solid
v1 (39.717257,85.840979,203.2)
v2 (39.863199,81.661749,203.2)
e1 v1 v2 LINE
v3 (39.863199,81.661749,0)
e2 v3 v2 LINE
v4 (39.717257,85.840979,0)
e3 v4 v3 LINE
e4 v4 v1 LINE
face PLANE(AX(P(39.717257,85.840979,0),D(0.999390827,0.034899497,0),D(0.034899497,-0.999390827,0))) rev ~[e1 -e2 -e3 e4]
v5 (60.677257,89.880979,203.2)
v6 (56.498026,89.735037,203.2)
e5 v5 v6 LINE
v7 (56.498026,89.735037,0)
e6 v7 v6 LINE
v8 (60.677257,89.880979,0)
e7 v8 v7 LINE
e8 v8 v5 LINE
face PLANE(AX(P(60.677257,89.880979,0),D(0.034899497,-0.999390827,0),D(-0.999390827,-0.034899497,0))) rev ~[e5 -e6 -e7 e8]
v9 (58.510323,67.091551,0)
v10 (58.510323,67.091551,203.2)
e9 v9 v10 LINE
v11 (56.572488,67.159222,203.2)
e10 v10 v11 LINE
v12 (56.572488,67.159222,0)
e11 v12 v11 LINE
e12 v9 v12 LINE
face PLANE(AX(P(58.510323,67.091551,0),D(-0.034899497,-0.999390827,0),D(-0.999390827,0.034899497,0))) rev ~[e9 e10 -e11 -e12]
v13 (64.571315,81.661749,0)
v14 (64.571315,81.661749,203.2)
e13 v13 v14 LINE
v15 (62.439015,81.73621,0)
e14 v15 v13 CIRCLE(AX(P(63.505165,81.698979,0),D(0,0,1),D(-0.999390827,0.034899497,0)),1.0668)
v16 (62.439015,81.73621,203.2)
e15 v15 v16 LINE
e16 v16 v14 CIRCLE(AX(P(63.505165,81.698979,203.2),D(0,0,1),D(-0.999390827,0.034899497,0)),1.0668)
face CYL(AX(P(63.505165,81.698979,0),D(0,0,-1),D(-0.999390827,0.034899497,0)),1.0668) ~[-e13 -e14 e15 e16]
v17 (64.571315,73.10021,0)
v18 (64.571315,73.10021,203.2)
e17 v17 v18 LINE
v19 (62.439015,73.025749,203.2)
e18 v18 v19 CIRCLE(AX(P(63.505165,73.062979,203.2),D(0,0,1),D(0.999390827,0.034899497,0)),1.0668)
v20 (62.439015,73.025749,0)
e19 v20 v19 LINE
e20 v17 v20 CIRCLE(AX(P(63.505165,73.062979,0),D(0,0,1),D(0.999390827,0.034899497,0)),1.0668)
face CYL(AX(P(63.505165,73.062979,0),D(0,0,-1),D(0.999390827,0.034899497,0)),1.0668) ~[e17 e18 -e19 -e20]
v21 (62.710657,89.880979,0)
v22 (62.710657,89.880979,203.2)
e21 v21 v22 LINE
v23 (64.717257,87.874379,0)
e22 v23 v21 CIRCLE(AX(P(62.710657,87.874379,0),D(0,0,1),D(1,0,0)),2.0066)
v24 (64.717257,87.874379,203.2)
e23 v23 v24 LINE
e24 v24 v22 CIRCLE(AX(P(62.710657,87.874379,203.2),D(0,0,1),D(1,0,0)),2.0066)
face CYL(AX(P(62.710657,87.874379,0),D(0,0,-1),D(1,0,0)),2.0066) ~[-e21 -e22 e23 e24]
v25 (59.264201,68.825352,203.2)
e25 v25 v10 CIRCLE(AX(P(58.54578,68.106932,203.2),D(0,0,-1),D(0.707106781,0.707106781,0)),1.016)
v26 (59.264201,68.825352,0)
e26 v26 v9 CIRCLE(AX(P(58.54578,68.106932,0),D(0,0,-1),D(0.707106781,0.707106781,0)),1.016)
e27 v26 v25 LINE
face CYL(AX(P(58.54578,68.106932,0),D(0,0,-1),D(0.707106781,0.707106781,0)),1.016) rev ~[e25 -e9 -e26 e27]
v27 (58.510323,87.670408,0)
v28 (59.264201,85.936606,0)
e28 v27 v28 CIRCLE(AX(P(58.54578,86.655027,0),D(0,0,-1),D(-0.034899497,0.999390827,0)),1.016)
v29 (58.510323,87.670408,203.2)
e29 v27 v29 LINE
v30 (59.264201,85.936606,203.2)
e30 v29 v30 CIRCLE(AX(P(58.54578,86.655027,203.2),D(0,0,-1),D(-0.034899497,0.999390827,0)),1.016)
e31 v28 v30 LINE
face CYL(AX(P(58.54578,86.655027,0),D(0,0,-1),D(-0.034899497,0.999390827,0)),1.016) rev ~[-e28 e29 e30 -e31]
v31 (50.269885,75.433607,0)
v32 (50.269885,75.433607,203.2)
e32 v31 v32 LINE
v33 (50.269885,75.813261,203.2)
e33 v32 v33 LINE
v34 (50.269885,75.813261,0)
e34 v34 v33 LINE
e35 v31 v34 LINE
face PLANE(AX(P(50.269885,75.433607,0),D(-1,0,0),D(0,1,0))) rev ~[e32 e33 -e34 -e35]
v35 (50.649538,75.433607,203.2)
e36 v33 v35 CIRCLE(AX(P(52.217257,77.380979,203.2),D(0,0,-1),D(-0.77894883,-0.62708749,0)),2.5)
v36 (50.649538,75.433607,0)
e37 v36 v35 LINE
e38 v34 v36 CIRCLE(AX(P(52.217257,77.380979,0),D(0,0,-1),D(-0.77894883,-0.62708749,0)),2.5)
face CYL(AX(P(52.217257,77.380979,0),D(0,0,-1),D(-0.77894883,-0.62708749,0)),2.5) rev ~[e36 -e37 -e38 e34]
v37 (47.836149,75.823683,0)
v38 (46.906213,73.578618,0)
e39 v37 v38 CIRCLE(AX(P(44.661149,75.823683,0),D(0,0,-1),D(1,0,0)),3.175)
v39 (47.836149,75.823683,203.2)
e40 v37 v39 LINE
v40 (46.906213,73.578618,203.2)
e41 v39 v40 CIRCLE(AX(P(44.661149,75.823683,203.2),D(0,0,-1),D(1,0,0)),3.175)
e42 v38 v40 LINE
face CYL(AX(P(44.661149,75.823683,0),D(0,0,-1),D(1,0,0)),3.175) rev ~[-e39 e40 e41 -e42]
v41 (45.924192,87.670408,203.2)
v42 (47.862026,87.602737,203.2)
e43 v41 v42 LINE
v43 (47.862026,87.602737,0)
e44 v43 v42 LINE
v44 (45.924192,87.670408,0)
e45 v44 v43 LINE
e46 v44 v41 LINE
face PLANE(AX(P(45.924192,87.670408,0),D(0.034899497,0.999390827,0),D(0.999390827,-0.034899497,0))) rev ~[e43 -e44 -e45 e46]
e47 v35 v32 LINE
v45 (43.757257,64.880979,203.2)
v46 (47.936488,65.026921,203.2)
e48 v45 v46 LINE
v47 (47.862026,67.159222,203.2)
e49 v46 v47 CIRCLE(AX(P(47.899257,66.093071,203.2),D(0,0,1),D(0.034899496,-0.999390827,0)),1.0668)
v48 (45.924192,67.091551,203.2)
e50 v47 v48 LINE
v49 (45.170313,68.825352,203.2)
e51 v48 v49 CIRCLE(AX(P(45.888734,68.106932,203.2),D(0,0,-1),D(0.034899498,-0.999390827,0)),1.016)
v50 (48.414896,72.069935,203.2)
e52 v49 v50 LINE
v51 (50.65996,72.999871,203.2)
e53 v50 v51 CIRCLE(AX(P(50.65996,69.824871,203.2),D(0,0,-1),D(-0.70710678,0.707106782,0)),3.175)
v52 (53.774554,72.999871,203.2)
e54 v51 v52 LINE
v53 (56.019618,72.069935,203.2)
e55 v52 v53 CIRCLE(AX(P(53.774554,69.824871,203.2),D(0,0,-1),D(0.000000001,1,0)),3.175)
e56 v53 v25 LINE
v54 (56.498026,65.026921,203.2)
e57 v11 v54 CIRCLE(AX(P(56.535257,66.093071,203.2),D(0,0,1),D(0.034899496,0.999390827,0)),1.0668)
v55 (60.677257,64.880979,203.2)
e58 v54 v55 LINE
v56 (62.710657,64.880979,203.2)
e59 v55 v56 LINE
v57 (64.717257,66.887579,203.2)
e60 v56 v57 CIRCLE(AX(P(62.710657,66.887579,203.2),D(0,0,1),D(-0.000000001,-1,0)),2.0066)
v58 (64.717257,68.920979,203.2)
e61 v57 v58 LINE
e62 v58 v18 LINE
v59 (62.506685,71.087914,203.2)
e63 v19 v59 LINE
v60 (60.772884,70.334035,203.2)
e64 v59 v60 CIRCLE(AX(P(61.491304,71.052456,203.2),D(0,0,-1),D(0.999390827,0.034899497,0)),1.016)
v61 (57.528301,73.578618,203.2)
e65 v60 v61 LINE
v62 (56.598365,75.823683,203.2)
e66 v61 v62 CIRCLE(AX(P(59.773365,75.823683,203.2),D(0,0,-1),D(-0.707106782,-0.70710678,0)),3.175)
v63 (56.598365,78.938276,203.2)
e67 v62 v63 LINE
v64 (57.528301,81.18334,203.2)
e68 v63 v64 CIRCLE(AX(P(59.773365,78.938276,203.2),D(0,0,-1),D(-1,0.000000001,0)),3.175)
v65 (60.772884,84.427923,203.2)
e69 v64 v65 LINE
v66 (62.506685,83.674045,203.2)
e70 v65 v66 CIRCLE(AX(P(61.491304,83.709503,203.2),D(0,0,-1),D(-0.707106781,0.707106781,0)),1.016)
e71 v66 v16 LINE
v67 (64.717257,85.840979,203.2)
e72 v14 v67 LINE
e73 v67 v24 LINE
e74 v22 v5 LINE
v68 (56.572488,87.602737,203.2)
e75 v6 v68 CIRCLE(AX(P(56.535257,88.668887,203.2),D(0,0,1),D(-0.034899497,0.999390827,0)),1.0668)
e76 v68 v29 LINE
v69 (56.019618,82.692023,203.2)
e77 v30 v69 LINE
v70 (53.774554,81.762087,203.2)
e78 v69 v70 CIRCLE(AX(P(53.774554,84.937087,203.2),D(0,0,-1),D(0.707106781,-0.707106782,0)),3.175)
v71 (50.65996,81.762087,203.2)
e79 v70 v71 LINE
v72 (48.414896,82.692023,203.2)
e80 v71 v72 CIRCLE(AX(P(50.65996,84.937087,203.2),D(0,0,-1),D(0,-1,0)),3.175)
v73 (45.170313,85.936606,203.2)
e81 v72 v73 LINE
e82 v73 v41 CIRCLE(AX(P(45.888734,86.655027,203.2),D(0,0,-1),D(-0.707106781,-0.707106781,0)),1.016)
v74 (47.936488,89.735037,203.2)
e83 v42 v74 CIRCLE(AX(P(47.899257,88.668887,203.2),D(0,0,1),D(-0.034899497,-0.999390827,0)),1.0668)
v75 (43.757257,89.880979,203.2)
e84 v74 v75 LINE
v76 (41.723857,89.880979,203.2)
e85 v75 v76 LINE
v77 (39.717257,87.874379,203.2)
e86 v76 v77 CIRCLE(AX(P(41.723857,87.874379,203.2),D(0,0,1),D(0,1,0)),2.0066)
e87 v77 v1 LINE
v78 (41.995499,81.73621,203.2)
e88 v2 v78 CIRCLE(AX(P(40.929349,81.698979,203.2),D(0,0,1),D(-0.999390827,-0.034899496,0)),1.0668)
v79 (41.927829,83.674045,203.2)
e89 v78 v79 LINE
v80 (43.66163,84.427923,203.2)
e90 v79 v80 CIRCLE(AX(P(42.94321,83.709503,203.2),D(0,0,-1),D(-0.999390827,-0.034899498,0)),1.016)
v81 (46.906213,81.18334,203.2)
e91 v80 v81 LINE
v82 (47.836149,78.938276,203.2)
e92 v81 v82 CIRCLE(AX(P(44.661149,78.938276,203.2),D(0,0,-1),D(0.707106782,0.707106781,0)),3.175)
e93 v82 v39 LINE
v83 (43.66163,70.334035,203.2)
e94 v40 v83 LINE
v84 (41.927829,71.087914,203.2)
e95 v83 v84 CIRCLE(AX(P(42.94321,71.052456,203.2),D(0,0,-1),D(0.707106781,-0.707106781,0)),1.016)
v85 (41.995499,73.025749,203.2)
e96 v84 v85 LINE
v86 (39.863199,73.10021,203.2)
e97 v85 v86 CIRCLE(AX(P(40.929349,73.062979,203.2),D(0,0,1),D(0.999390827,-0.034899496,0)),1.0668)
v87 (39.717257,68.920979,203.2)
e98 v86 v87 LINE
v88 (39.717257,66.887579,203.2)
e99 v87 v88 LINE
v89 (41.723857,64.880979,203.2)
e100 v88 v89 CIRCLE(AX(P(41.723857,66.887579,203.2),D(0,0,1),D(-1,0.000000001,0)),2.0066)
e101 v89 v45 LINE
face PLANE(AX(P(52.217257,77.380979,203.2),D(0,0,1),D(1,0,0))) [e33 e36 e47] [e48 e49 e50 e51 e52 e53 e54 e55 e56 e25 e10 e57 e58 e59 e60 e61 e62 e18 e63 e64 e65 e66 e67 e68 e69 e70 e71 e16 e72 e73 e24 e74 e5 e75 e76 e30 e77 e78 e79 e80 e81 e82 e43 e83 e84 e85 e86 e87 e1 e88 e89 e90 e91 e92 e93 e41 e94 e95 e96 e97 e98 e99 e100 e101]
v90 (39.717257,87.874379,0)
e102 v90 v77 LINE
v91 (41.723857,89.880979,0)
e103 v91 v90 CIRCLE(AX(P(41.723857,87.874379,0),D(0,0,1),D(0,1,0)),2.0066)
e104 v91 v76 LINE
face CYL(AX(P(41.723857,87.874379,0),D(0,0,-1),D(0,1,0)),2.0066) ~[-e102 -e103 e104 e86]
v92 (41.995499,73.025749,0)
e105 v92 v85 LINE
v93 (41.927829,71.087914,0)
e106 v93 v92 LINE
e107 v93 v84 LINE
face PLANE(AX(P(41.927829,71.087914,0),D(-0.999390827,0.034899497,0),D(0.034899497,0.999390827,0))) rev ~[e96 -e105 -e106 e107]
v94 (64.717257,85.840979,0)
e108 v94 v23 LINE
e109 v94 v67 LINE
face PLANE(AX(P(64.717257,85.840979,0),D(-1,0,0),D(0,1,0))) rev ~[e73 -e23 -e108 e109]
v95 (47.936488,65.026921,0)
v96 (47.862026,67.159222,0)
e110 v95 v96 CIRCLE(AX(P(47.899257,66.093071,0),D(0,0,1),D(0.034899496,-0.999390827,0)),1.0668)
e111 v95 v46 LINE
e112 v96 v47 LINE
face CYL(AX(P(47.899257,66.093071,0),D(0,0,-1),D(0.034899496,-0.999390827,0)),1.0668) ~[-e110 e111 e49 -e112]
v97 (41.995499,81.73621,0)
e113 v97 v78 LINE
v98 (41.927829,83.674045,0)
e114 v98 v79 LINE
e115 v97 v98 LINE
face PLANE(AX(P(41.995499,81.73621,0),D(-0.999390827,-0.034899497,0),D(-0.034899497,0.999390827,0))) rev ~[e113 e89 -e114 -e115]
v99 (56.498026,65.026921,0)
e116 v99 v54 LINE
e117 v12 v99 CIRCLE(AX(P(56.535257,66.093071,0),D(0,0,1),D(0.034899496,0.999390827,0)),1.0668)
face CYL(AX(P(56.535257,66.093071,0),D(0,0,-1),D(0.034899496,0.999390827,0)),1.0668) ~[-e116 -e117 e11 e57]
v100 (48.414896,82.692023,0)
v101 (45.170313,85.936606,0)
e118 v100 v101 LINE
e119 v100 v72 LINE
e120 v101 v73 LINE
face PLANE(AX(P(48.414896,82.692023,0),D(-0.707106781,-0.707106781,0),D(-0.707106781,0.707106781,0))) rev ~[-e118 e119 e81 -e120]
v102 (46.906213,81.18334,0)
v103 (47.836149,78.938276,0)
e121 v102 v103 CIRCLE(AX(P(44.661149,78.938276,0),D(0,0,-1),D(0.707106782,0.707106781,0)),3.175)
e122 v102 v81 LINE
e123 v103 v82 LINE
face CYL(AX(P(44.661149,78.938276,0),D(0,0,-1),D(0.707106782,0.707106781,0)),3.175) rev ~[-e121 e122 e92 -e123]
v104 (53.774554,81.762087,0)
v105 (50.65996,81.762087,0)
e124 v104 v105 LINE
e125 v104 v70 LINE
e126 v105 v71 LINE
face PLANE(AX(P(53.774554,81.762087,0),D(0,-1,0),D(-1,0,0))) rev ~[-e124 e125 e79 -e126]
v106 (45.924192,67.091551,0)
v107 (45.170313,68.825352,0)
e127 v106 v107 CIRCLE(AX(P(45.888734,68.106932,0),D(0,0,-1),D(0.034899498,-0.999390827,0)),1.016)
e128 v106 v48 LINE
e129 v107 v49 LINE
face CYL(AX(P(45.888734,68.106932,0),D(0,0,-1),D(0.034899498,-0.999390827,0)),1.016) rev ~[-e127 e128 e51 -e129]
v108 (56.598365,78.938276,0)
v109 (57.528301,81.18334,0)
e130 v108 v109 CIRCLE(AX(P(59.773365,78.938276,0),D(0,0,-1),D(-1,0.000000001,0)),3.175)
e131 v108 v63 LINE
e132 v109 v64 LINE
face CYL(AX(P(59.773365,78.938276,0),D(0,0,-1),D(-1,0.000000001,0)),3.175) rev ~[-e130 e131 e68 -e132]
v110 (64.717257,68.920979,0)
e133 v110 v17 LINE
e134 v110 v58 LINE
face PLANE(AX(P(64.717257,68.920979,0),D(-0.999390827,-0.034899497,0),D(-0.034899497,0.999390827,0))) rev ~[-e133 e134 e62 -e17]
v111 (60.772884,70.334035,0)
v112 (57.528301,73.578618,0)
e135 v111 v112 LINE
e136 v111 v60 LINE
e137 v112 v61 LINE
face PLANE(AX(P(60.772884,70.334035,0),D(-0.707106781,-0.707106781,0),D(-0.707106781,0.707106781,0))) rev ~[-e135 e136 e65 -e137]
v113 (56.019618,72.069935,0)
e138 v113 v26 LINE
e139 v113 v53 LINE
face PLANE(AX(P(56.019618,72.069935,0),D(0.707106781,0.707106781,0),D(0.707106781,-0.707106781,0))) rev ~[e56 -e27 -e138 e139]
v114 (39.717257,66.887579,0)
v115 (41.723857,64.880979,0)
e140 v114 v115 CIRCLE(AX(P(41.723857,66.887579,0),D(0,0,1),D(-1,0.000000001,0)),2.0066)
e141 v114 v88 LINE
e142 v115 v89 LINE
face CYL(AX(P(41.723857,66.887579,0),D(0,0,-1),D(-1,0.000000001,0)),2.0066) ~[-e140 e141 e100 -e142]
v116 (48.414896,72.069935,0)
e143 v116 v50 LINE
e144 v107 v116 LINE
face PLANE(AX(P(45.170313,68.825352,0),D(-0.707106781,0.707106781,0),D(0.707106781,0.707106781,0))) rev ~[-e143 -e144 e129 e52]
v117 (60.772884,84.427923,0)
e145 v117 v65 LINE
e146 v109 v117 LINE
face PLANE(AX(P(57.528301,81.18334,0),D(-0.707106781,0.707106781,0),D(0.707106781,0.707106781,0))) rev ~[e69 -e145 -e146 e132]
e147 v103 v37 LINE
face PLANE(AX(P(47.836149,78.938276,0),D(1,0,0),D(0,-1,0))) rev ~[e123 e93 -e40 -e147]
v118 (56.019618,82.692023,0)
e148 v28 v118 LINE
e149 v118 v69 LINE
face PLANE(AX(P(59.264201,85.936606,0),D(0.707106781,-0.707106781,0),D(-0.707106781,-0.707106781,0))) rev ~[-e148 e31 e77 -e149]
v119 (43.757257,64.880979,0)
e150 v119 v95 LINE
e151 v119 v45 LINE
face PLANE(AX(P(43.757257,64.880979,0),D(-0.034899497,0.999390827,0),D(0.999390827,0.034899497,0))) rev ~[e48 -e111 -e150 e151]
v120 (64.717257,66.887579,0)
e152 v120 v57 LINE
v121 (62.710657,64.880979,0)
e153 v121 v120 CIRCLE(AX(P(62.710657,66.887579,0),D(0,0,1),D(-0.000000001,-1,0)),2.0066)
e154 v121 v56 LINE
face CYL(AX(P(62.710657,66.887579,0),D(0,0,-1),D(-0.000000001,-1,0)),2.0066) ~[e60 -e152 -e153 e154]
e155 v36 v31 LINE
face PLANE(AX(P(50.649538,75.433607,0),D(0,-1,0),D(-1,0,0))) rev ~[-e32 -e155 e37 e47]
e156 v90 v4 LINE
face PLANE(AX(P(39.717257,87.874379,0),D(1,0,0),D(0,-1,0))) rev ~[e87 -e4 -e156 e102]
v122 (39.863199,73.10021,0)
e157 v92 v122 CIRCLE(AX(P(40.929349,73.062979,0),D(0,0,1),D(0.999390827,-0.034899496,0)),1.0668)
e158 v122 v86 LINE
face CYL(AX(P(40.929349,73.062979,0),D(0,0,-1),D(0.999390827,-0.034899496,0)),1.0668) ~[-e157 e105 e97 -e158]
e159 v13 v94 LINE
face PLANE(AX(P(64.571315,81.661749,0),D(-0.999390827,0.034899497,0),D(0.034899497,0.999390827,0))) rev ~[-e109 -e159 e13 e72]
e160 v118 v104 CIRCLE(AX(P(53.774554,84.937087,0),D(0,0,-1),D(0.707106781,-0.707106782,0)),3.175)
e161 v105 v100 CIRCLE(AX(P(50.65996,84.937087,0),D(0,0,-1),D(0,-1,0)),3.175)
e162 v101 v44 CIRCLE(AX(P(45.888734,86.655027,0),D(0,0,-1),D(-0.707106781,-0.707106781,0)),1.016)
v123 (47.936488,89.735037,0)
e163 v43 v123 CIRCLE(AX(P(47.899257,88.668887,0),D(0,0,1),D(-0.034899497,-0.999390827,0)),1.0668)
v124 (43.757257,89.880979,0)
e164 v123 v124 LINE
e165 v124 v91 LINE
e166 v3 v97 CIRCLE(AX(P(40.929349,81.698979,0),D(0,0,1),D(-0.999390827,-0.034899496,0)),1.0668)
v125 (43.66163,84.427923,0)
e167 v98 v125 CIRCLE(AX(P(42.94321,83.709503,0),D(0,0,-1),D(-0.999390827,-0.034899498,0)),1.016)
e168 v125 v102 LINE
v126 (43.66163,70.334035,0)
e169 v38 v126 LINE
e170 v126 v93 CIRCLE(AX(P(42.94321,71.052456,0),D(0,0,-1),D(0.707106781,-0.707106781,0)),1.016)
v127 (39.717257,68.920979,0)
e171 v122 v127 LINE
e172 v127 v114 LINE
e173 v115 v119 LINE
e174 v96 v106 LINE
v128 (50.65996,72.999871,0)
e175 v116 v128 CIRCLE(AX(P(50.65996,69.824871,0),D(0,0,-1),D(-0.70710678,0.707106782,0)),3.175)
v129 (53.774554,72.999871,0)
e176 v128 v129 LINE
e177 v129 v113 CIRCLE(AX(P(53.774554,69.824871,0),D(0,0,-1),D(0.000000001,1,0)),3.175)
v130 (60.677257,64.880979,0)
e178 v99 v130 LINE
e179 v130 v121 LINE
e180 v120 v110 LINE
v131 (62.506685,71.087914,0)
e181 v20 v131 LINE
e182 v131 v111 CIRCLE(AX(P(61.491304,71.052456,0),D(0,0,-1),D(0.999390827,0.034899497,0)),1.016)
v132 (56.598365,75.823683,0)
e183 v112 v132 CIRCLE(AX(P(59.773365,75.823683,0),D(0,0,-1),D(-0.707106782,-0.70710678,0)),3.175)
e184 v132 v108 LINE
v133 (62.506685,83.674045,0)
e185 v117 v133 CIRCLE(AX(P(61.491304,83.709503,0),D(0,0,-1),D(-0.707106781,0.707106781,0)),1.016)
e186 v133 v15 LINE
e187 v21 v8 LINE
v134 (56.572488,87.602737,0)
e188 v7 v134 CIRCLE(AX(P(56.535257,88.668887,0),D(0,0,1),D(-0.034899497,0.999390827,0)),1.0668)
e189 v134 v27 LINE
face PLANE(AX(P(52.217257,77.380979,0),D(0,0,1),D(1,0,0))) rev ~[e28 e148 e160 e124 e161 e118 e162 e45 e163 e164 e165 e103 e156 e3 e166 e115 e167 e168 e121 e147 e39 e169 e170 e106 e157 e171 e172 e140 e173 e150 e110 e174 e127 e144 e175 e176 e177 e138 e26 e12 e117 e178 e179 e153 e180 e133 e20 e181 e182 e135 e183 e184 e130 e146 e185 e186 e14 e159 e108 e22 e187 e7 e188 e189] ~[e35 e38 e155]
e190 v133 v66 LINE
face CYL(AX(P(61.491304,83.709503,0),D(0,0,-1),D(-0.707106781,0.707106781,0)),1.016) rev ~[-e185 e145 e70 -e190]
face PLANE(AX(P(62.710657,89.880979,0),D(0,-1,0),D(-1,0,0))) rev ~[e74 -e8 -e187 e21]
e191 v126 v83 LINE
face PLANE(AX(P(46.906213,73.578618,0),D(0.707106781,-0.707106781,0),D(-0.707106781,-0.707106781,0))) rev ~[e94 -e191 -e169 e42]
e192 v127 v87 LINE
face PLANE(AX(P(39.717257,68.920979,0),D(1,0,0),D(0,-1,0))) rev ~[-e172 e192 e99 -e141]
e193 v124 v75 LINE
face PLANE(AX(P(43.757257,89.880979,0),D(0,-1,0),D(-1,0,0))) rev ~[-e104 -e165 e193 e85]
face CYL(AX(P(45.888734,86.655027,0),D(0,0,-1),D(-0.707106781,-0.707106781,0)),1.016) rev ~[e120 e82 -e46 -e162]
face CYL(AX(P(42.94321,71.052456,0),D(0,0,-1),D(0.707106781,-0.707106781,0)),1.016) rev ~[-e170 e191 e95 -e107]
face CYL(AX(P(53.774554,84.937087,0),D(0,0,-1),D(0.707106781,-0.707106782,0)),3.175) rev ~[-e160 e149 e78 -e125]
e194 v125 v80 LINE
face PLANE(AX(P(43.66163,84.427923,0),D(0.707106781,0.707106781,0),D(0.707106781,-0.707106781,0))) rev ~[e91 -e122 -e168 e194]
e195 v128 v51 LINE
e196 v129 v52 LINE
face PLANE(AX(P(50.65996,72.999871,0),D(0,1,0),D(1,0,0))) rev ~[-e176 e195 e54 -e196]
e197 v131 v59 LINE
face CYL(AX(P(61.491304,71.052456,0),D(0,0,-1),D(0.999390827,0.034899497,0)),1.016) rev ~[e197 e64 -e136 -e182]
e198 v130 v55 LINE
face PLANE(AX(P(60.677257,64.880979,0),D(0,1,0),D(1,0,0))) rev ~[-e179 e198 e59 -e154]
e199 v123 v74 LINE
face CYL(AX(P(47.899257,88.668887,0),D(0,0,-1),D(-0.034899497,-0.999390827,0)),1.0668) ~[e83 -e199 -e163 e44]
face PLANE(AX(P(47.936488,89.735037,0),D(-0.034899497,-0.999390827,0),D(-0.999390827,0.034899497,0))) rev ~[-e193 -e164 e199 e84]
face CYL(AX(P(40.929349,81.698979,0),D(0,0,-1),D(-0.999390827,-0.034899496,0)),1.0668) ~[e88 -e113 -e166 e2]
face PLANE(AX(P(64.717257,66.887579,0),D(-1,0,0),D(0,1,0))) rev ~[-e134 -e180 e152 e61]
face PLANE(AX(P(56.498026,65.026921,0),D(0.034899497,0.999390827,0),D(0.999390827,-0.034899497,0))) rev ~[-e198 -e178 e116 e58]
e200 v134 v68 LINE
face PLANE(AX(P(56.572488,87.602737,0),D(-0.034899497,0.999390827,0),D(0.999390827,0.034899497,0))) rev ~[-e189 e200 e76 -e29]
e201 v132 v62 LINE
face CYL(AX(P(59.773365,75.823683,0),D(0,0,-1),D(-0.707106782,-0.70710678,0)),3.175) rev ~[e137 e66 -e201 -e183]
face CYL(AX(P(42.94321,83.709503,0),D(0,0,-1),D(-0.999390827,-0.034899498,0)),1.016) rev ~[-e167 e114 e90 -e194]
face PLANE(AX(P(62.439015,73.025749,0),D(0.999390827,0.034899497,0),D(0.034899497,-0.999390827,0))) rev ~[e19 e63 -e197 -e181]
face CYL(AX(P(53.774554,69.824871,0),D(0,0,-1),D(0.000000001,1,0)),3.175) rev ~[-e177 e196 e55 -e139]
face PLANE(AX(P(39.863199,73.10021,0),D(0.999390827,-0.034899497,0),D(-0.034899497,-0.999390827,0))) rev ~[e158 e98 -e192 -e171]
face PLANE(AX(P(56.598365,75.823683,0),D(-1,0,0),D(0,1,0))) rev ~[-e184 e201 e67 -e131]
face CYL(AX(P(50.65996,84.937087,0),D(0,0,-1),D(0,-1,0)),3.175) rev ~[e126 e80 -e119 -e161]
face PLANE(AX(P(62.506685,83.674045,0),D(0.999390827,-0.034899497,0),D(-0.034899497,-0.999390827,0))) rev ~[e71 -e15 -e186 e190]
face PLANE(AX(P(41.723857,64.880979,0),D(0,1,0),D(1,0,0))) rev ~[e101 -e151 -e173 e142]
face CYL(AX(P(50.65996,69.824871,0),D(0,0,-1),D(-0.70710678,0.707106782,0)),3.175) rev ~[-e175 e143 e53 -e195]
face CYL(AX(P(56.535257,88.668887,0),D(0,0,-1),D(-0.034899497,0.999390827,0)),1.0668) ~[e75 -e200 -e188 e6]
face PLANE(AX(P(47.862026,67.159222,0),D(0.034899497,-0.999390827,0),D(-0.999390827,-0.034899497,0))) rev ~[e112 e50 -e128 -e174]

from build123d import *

# Parameters (mm, degrees)
BOSS_EXTRUDE1_DEPTH = 203.2


with BuildPart() as part:
    # Model → Boss-Extrude1 (new body)
    with BuildSketch(Plane.XY):
        with BuildLine():
            Line((50.659960212, 72.999871414), (53.774553856, 72.999871414))
            ThreePointArc((53.774553856, 72.999871414), (54.989573754, 72.758188929), (56.019617887, 72.069935444))
            Line((56.019617887, 72.069935444), (59.264200891, 68.825352439))
            ThreePointArc((59.264200891, 68.825352439), (59.477513437, 67.701802895), (58.510322513, 67.091550869))
            Line((58.510322513, 67.091550869), (56.572487817, 67.159221548))
            ThreePointArc((56.572487817, 67.159221548), (55.4691069, 66.130302197), (56.498026251, 65.026921279))
            Line((56.498026251, 65.026921279), (60.677257034, 64.880979325))
            Line((60.677257034, 64.880979325), (62.710657034, 64.880979325))
            ThreePointArc((62.710657034, 64.880979325), (64.129537501, 65.468698857), (64.717257034, 66.887579325))
            Line((64.717257034, 66.887579325), (64.717257034, 68.920979325))
            Line((64.717257034, 68.920979325), (64.57131508, 73.100210108))
            ThreePointArc((64.57131508, 73.100210108), (63.467934162, 74.129129459), (62.439014811, 73.025748542))
            Line((62.439014811, 73.025748542), (62.50668549, 71.087913846))
            ThreePointArc((62.50668549, 71.087913846), (61.896433464, 70.120722922), (60.77288392, 70.334035468))
            Line((60.77288392, 70.334035468), (57.528300915, 73.578618472))
            ThreePointArc((57.528300915, 73.578618472), (56.84004743, 74.608662605), (56.598364945, 75.823682503))
            Line((56.598364945, 75.823682503), (56.598364945, 78.938276147))
            ThreePointArc((56.598364945, 78.938276147), (56.84004743, 80.153296044), (57.528300915, 81.183340177))
            Line((57.528300915, 81.183340177), (60.77288392, 84.427923182))
            ThreePointArc((60.77288392, 84.427923182), (61.896433464, 84.641235728), (62.50668549, 83.674044803))
            Line((62.50668549, 83.674044803), (62.439014811, 81.736210108))
            ThreePointArc((62.439014811, 81.736210108), (63.467934162, 80.63282919), (64.57131508, 81.661748542))
            Line((64.57131508, 81.661748542), (64.717257034, 85.840979325))
            Line((64.717257034, 85.840979325), (64.717257034, 87.874379325))
            ThreePointArc((64.717257034, 87.874379325), (64.129537501, 89.293259792), (62.710657034, 89.880979325))
            Line((62.710657034, 89.880979325), (60.677257034, 89.880979325))
            Line((60.677257034, 89.880979325), (56.498026251, 89.73503737))
            ThreePointArc((56.498026251, 89.73503737), (55.4691069, 88.631656452), (56.572487817, 87.602737101))
            Line((56.572487817, 87.602737101), (58.510322513, 87.67040778))
            ThreePointArc((58.510322513, 87.67040778), (59.477513437, 87.060155754), (59.264200891, 85.93660621))
            Line((59.264200891, 85.93660621), (56.019617887, 82.692023205))
            ThreePointArc((56.019617887, 82.692023205), (54.989573754, 82.00376972), (53.774553856, 81.762087236))
            Line((53.774553856, 81.762087236), (50.659960212, 81.762087236))
            ThreePointArc((50.659960212, 81.762087236), (49.444940315, 82.00376972), (48.414896182, 82.692023205))
            Line((48.414896182, 82.692023205), (45.170313177, 85.93660621))
            ThreePointArc((45.170313177, 85.93660621), (44.957000631, 87.060155754), (45.924191556, 87.67040778))
            Line((45.924191556, 87.67040778), (47.862026251, 87.602737101))
            ThreePointArc((47.862026251, 87.602737101), (48.965407169, 88.631656452), (47.936487817, 89.73503737))
            Line((47.936487817, 89.73503737), (43.757257034, 89.880979325))
            Line((43.757257034, 89.880979325), (41.723857034, 89.880979325))
            ThreePointArc((41.723857034, 89.880979325), (40.304976567, 89.293259792), (39.717257034, 87.874379325))
            Line((39.717257034, 87.874379325), (39.717257034, 85.840979325))
            Line((39.717257034, 85.840979325), (39.863198989, 81.661748542))
            ThreePointArc((39.863198989, 81.661748542), (40.966579907, 80.63282919), (41.995499258, 81.736210108))
            Line((41.995499258, 81.736210108), (41.927828579, 83.674044803))
            ThreePointArc((41.927828579, 83.674044803), (42.538080605, 84.641235728), (43.661630149, 84.427923182))
            Line((43.661630149, 84.427923182), (46.906213154, 81.183340177))
            ThreePointArc((46.906213154, 81.183340177), (47.594466639, 80.153296044), (47.836149123, 78.938276147))
            Line((47.836149123, 78.938276147), (47.836149123, 75.823682503))
            ThreePointArc((47.836149123, 75.823682503), (47.594466639, 74.608662605), (46.906213154, 73.578618472))
            Line((46.906213154, 73.578618472), (43.661630149, 70.334035468))
            ThreePointArc((43.661630149, 70.334035468), (42.538080605, 70.120722922), (41.927828579, 71.087913846))
            Line((41.927828579, 71.087913846), (41.995499258, 73.025748542))
            ThreePointArc((41.995499258, 73.025748542), (40.966579907, 74.129129459), (39.863198989, 73.100210108))
            Line((39.863198989, 73.100210108), (39.717257034, 68.920979325))
            Line((39.717257034, 68.920979325), (39.717257034, 66.887579325))
            ThreePointArc((39.717257034, 66.887579325), (40.304976567, 65.468698857), (41.723857034, 64.880979325))
            Line((41.723857034, 64.880979325), (43.757257034, 64.880979325))
            Line((43.757257034, 64.880979325), (47.936487817, 65.026921279))
            ThreePointArc((47.936487817, 65.026921279), (48.965407169, 66.130302197), (47.862026251, 67.159221548))
            Line((47.862026251, 67.159221548), (45.924191556, 67.091550869))
            ThreePointArc((45.924191556, 67.091550869), (44.957000631, 67.701802895), (45.170313177, 68.825352439))
            Line((45.170313177, 68.825352439), (48.414896182, 72.069935444))
            ThreePointArc((48.414896182, 72.069935444), (49.444940315, 72.758188929), (50.659960212, 72.999871414))
        make_face()
        with BuildLine():
            Line((50.64953831, 75.433607249), (50.269884959, 75.433607249))
            Line((50.269884959, 75.433607249), (50.269884959, 75.8132606))
            ThreePointArc((50.269884959, 75.8132606), (53.985023987, 79.148746278), (50.64953831, 75.433607249))
        make_face(mode=Mode.SUBTRACT)
    extrude(amount=BOSS_EXTRUDE1_DEPTH)


solid = part.part
